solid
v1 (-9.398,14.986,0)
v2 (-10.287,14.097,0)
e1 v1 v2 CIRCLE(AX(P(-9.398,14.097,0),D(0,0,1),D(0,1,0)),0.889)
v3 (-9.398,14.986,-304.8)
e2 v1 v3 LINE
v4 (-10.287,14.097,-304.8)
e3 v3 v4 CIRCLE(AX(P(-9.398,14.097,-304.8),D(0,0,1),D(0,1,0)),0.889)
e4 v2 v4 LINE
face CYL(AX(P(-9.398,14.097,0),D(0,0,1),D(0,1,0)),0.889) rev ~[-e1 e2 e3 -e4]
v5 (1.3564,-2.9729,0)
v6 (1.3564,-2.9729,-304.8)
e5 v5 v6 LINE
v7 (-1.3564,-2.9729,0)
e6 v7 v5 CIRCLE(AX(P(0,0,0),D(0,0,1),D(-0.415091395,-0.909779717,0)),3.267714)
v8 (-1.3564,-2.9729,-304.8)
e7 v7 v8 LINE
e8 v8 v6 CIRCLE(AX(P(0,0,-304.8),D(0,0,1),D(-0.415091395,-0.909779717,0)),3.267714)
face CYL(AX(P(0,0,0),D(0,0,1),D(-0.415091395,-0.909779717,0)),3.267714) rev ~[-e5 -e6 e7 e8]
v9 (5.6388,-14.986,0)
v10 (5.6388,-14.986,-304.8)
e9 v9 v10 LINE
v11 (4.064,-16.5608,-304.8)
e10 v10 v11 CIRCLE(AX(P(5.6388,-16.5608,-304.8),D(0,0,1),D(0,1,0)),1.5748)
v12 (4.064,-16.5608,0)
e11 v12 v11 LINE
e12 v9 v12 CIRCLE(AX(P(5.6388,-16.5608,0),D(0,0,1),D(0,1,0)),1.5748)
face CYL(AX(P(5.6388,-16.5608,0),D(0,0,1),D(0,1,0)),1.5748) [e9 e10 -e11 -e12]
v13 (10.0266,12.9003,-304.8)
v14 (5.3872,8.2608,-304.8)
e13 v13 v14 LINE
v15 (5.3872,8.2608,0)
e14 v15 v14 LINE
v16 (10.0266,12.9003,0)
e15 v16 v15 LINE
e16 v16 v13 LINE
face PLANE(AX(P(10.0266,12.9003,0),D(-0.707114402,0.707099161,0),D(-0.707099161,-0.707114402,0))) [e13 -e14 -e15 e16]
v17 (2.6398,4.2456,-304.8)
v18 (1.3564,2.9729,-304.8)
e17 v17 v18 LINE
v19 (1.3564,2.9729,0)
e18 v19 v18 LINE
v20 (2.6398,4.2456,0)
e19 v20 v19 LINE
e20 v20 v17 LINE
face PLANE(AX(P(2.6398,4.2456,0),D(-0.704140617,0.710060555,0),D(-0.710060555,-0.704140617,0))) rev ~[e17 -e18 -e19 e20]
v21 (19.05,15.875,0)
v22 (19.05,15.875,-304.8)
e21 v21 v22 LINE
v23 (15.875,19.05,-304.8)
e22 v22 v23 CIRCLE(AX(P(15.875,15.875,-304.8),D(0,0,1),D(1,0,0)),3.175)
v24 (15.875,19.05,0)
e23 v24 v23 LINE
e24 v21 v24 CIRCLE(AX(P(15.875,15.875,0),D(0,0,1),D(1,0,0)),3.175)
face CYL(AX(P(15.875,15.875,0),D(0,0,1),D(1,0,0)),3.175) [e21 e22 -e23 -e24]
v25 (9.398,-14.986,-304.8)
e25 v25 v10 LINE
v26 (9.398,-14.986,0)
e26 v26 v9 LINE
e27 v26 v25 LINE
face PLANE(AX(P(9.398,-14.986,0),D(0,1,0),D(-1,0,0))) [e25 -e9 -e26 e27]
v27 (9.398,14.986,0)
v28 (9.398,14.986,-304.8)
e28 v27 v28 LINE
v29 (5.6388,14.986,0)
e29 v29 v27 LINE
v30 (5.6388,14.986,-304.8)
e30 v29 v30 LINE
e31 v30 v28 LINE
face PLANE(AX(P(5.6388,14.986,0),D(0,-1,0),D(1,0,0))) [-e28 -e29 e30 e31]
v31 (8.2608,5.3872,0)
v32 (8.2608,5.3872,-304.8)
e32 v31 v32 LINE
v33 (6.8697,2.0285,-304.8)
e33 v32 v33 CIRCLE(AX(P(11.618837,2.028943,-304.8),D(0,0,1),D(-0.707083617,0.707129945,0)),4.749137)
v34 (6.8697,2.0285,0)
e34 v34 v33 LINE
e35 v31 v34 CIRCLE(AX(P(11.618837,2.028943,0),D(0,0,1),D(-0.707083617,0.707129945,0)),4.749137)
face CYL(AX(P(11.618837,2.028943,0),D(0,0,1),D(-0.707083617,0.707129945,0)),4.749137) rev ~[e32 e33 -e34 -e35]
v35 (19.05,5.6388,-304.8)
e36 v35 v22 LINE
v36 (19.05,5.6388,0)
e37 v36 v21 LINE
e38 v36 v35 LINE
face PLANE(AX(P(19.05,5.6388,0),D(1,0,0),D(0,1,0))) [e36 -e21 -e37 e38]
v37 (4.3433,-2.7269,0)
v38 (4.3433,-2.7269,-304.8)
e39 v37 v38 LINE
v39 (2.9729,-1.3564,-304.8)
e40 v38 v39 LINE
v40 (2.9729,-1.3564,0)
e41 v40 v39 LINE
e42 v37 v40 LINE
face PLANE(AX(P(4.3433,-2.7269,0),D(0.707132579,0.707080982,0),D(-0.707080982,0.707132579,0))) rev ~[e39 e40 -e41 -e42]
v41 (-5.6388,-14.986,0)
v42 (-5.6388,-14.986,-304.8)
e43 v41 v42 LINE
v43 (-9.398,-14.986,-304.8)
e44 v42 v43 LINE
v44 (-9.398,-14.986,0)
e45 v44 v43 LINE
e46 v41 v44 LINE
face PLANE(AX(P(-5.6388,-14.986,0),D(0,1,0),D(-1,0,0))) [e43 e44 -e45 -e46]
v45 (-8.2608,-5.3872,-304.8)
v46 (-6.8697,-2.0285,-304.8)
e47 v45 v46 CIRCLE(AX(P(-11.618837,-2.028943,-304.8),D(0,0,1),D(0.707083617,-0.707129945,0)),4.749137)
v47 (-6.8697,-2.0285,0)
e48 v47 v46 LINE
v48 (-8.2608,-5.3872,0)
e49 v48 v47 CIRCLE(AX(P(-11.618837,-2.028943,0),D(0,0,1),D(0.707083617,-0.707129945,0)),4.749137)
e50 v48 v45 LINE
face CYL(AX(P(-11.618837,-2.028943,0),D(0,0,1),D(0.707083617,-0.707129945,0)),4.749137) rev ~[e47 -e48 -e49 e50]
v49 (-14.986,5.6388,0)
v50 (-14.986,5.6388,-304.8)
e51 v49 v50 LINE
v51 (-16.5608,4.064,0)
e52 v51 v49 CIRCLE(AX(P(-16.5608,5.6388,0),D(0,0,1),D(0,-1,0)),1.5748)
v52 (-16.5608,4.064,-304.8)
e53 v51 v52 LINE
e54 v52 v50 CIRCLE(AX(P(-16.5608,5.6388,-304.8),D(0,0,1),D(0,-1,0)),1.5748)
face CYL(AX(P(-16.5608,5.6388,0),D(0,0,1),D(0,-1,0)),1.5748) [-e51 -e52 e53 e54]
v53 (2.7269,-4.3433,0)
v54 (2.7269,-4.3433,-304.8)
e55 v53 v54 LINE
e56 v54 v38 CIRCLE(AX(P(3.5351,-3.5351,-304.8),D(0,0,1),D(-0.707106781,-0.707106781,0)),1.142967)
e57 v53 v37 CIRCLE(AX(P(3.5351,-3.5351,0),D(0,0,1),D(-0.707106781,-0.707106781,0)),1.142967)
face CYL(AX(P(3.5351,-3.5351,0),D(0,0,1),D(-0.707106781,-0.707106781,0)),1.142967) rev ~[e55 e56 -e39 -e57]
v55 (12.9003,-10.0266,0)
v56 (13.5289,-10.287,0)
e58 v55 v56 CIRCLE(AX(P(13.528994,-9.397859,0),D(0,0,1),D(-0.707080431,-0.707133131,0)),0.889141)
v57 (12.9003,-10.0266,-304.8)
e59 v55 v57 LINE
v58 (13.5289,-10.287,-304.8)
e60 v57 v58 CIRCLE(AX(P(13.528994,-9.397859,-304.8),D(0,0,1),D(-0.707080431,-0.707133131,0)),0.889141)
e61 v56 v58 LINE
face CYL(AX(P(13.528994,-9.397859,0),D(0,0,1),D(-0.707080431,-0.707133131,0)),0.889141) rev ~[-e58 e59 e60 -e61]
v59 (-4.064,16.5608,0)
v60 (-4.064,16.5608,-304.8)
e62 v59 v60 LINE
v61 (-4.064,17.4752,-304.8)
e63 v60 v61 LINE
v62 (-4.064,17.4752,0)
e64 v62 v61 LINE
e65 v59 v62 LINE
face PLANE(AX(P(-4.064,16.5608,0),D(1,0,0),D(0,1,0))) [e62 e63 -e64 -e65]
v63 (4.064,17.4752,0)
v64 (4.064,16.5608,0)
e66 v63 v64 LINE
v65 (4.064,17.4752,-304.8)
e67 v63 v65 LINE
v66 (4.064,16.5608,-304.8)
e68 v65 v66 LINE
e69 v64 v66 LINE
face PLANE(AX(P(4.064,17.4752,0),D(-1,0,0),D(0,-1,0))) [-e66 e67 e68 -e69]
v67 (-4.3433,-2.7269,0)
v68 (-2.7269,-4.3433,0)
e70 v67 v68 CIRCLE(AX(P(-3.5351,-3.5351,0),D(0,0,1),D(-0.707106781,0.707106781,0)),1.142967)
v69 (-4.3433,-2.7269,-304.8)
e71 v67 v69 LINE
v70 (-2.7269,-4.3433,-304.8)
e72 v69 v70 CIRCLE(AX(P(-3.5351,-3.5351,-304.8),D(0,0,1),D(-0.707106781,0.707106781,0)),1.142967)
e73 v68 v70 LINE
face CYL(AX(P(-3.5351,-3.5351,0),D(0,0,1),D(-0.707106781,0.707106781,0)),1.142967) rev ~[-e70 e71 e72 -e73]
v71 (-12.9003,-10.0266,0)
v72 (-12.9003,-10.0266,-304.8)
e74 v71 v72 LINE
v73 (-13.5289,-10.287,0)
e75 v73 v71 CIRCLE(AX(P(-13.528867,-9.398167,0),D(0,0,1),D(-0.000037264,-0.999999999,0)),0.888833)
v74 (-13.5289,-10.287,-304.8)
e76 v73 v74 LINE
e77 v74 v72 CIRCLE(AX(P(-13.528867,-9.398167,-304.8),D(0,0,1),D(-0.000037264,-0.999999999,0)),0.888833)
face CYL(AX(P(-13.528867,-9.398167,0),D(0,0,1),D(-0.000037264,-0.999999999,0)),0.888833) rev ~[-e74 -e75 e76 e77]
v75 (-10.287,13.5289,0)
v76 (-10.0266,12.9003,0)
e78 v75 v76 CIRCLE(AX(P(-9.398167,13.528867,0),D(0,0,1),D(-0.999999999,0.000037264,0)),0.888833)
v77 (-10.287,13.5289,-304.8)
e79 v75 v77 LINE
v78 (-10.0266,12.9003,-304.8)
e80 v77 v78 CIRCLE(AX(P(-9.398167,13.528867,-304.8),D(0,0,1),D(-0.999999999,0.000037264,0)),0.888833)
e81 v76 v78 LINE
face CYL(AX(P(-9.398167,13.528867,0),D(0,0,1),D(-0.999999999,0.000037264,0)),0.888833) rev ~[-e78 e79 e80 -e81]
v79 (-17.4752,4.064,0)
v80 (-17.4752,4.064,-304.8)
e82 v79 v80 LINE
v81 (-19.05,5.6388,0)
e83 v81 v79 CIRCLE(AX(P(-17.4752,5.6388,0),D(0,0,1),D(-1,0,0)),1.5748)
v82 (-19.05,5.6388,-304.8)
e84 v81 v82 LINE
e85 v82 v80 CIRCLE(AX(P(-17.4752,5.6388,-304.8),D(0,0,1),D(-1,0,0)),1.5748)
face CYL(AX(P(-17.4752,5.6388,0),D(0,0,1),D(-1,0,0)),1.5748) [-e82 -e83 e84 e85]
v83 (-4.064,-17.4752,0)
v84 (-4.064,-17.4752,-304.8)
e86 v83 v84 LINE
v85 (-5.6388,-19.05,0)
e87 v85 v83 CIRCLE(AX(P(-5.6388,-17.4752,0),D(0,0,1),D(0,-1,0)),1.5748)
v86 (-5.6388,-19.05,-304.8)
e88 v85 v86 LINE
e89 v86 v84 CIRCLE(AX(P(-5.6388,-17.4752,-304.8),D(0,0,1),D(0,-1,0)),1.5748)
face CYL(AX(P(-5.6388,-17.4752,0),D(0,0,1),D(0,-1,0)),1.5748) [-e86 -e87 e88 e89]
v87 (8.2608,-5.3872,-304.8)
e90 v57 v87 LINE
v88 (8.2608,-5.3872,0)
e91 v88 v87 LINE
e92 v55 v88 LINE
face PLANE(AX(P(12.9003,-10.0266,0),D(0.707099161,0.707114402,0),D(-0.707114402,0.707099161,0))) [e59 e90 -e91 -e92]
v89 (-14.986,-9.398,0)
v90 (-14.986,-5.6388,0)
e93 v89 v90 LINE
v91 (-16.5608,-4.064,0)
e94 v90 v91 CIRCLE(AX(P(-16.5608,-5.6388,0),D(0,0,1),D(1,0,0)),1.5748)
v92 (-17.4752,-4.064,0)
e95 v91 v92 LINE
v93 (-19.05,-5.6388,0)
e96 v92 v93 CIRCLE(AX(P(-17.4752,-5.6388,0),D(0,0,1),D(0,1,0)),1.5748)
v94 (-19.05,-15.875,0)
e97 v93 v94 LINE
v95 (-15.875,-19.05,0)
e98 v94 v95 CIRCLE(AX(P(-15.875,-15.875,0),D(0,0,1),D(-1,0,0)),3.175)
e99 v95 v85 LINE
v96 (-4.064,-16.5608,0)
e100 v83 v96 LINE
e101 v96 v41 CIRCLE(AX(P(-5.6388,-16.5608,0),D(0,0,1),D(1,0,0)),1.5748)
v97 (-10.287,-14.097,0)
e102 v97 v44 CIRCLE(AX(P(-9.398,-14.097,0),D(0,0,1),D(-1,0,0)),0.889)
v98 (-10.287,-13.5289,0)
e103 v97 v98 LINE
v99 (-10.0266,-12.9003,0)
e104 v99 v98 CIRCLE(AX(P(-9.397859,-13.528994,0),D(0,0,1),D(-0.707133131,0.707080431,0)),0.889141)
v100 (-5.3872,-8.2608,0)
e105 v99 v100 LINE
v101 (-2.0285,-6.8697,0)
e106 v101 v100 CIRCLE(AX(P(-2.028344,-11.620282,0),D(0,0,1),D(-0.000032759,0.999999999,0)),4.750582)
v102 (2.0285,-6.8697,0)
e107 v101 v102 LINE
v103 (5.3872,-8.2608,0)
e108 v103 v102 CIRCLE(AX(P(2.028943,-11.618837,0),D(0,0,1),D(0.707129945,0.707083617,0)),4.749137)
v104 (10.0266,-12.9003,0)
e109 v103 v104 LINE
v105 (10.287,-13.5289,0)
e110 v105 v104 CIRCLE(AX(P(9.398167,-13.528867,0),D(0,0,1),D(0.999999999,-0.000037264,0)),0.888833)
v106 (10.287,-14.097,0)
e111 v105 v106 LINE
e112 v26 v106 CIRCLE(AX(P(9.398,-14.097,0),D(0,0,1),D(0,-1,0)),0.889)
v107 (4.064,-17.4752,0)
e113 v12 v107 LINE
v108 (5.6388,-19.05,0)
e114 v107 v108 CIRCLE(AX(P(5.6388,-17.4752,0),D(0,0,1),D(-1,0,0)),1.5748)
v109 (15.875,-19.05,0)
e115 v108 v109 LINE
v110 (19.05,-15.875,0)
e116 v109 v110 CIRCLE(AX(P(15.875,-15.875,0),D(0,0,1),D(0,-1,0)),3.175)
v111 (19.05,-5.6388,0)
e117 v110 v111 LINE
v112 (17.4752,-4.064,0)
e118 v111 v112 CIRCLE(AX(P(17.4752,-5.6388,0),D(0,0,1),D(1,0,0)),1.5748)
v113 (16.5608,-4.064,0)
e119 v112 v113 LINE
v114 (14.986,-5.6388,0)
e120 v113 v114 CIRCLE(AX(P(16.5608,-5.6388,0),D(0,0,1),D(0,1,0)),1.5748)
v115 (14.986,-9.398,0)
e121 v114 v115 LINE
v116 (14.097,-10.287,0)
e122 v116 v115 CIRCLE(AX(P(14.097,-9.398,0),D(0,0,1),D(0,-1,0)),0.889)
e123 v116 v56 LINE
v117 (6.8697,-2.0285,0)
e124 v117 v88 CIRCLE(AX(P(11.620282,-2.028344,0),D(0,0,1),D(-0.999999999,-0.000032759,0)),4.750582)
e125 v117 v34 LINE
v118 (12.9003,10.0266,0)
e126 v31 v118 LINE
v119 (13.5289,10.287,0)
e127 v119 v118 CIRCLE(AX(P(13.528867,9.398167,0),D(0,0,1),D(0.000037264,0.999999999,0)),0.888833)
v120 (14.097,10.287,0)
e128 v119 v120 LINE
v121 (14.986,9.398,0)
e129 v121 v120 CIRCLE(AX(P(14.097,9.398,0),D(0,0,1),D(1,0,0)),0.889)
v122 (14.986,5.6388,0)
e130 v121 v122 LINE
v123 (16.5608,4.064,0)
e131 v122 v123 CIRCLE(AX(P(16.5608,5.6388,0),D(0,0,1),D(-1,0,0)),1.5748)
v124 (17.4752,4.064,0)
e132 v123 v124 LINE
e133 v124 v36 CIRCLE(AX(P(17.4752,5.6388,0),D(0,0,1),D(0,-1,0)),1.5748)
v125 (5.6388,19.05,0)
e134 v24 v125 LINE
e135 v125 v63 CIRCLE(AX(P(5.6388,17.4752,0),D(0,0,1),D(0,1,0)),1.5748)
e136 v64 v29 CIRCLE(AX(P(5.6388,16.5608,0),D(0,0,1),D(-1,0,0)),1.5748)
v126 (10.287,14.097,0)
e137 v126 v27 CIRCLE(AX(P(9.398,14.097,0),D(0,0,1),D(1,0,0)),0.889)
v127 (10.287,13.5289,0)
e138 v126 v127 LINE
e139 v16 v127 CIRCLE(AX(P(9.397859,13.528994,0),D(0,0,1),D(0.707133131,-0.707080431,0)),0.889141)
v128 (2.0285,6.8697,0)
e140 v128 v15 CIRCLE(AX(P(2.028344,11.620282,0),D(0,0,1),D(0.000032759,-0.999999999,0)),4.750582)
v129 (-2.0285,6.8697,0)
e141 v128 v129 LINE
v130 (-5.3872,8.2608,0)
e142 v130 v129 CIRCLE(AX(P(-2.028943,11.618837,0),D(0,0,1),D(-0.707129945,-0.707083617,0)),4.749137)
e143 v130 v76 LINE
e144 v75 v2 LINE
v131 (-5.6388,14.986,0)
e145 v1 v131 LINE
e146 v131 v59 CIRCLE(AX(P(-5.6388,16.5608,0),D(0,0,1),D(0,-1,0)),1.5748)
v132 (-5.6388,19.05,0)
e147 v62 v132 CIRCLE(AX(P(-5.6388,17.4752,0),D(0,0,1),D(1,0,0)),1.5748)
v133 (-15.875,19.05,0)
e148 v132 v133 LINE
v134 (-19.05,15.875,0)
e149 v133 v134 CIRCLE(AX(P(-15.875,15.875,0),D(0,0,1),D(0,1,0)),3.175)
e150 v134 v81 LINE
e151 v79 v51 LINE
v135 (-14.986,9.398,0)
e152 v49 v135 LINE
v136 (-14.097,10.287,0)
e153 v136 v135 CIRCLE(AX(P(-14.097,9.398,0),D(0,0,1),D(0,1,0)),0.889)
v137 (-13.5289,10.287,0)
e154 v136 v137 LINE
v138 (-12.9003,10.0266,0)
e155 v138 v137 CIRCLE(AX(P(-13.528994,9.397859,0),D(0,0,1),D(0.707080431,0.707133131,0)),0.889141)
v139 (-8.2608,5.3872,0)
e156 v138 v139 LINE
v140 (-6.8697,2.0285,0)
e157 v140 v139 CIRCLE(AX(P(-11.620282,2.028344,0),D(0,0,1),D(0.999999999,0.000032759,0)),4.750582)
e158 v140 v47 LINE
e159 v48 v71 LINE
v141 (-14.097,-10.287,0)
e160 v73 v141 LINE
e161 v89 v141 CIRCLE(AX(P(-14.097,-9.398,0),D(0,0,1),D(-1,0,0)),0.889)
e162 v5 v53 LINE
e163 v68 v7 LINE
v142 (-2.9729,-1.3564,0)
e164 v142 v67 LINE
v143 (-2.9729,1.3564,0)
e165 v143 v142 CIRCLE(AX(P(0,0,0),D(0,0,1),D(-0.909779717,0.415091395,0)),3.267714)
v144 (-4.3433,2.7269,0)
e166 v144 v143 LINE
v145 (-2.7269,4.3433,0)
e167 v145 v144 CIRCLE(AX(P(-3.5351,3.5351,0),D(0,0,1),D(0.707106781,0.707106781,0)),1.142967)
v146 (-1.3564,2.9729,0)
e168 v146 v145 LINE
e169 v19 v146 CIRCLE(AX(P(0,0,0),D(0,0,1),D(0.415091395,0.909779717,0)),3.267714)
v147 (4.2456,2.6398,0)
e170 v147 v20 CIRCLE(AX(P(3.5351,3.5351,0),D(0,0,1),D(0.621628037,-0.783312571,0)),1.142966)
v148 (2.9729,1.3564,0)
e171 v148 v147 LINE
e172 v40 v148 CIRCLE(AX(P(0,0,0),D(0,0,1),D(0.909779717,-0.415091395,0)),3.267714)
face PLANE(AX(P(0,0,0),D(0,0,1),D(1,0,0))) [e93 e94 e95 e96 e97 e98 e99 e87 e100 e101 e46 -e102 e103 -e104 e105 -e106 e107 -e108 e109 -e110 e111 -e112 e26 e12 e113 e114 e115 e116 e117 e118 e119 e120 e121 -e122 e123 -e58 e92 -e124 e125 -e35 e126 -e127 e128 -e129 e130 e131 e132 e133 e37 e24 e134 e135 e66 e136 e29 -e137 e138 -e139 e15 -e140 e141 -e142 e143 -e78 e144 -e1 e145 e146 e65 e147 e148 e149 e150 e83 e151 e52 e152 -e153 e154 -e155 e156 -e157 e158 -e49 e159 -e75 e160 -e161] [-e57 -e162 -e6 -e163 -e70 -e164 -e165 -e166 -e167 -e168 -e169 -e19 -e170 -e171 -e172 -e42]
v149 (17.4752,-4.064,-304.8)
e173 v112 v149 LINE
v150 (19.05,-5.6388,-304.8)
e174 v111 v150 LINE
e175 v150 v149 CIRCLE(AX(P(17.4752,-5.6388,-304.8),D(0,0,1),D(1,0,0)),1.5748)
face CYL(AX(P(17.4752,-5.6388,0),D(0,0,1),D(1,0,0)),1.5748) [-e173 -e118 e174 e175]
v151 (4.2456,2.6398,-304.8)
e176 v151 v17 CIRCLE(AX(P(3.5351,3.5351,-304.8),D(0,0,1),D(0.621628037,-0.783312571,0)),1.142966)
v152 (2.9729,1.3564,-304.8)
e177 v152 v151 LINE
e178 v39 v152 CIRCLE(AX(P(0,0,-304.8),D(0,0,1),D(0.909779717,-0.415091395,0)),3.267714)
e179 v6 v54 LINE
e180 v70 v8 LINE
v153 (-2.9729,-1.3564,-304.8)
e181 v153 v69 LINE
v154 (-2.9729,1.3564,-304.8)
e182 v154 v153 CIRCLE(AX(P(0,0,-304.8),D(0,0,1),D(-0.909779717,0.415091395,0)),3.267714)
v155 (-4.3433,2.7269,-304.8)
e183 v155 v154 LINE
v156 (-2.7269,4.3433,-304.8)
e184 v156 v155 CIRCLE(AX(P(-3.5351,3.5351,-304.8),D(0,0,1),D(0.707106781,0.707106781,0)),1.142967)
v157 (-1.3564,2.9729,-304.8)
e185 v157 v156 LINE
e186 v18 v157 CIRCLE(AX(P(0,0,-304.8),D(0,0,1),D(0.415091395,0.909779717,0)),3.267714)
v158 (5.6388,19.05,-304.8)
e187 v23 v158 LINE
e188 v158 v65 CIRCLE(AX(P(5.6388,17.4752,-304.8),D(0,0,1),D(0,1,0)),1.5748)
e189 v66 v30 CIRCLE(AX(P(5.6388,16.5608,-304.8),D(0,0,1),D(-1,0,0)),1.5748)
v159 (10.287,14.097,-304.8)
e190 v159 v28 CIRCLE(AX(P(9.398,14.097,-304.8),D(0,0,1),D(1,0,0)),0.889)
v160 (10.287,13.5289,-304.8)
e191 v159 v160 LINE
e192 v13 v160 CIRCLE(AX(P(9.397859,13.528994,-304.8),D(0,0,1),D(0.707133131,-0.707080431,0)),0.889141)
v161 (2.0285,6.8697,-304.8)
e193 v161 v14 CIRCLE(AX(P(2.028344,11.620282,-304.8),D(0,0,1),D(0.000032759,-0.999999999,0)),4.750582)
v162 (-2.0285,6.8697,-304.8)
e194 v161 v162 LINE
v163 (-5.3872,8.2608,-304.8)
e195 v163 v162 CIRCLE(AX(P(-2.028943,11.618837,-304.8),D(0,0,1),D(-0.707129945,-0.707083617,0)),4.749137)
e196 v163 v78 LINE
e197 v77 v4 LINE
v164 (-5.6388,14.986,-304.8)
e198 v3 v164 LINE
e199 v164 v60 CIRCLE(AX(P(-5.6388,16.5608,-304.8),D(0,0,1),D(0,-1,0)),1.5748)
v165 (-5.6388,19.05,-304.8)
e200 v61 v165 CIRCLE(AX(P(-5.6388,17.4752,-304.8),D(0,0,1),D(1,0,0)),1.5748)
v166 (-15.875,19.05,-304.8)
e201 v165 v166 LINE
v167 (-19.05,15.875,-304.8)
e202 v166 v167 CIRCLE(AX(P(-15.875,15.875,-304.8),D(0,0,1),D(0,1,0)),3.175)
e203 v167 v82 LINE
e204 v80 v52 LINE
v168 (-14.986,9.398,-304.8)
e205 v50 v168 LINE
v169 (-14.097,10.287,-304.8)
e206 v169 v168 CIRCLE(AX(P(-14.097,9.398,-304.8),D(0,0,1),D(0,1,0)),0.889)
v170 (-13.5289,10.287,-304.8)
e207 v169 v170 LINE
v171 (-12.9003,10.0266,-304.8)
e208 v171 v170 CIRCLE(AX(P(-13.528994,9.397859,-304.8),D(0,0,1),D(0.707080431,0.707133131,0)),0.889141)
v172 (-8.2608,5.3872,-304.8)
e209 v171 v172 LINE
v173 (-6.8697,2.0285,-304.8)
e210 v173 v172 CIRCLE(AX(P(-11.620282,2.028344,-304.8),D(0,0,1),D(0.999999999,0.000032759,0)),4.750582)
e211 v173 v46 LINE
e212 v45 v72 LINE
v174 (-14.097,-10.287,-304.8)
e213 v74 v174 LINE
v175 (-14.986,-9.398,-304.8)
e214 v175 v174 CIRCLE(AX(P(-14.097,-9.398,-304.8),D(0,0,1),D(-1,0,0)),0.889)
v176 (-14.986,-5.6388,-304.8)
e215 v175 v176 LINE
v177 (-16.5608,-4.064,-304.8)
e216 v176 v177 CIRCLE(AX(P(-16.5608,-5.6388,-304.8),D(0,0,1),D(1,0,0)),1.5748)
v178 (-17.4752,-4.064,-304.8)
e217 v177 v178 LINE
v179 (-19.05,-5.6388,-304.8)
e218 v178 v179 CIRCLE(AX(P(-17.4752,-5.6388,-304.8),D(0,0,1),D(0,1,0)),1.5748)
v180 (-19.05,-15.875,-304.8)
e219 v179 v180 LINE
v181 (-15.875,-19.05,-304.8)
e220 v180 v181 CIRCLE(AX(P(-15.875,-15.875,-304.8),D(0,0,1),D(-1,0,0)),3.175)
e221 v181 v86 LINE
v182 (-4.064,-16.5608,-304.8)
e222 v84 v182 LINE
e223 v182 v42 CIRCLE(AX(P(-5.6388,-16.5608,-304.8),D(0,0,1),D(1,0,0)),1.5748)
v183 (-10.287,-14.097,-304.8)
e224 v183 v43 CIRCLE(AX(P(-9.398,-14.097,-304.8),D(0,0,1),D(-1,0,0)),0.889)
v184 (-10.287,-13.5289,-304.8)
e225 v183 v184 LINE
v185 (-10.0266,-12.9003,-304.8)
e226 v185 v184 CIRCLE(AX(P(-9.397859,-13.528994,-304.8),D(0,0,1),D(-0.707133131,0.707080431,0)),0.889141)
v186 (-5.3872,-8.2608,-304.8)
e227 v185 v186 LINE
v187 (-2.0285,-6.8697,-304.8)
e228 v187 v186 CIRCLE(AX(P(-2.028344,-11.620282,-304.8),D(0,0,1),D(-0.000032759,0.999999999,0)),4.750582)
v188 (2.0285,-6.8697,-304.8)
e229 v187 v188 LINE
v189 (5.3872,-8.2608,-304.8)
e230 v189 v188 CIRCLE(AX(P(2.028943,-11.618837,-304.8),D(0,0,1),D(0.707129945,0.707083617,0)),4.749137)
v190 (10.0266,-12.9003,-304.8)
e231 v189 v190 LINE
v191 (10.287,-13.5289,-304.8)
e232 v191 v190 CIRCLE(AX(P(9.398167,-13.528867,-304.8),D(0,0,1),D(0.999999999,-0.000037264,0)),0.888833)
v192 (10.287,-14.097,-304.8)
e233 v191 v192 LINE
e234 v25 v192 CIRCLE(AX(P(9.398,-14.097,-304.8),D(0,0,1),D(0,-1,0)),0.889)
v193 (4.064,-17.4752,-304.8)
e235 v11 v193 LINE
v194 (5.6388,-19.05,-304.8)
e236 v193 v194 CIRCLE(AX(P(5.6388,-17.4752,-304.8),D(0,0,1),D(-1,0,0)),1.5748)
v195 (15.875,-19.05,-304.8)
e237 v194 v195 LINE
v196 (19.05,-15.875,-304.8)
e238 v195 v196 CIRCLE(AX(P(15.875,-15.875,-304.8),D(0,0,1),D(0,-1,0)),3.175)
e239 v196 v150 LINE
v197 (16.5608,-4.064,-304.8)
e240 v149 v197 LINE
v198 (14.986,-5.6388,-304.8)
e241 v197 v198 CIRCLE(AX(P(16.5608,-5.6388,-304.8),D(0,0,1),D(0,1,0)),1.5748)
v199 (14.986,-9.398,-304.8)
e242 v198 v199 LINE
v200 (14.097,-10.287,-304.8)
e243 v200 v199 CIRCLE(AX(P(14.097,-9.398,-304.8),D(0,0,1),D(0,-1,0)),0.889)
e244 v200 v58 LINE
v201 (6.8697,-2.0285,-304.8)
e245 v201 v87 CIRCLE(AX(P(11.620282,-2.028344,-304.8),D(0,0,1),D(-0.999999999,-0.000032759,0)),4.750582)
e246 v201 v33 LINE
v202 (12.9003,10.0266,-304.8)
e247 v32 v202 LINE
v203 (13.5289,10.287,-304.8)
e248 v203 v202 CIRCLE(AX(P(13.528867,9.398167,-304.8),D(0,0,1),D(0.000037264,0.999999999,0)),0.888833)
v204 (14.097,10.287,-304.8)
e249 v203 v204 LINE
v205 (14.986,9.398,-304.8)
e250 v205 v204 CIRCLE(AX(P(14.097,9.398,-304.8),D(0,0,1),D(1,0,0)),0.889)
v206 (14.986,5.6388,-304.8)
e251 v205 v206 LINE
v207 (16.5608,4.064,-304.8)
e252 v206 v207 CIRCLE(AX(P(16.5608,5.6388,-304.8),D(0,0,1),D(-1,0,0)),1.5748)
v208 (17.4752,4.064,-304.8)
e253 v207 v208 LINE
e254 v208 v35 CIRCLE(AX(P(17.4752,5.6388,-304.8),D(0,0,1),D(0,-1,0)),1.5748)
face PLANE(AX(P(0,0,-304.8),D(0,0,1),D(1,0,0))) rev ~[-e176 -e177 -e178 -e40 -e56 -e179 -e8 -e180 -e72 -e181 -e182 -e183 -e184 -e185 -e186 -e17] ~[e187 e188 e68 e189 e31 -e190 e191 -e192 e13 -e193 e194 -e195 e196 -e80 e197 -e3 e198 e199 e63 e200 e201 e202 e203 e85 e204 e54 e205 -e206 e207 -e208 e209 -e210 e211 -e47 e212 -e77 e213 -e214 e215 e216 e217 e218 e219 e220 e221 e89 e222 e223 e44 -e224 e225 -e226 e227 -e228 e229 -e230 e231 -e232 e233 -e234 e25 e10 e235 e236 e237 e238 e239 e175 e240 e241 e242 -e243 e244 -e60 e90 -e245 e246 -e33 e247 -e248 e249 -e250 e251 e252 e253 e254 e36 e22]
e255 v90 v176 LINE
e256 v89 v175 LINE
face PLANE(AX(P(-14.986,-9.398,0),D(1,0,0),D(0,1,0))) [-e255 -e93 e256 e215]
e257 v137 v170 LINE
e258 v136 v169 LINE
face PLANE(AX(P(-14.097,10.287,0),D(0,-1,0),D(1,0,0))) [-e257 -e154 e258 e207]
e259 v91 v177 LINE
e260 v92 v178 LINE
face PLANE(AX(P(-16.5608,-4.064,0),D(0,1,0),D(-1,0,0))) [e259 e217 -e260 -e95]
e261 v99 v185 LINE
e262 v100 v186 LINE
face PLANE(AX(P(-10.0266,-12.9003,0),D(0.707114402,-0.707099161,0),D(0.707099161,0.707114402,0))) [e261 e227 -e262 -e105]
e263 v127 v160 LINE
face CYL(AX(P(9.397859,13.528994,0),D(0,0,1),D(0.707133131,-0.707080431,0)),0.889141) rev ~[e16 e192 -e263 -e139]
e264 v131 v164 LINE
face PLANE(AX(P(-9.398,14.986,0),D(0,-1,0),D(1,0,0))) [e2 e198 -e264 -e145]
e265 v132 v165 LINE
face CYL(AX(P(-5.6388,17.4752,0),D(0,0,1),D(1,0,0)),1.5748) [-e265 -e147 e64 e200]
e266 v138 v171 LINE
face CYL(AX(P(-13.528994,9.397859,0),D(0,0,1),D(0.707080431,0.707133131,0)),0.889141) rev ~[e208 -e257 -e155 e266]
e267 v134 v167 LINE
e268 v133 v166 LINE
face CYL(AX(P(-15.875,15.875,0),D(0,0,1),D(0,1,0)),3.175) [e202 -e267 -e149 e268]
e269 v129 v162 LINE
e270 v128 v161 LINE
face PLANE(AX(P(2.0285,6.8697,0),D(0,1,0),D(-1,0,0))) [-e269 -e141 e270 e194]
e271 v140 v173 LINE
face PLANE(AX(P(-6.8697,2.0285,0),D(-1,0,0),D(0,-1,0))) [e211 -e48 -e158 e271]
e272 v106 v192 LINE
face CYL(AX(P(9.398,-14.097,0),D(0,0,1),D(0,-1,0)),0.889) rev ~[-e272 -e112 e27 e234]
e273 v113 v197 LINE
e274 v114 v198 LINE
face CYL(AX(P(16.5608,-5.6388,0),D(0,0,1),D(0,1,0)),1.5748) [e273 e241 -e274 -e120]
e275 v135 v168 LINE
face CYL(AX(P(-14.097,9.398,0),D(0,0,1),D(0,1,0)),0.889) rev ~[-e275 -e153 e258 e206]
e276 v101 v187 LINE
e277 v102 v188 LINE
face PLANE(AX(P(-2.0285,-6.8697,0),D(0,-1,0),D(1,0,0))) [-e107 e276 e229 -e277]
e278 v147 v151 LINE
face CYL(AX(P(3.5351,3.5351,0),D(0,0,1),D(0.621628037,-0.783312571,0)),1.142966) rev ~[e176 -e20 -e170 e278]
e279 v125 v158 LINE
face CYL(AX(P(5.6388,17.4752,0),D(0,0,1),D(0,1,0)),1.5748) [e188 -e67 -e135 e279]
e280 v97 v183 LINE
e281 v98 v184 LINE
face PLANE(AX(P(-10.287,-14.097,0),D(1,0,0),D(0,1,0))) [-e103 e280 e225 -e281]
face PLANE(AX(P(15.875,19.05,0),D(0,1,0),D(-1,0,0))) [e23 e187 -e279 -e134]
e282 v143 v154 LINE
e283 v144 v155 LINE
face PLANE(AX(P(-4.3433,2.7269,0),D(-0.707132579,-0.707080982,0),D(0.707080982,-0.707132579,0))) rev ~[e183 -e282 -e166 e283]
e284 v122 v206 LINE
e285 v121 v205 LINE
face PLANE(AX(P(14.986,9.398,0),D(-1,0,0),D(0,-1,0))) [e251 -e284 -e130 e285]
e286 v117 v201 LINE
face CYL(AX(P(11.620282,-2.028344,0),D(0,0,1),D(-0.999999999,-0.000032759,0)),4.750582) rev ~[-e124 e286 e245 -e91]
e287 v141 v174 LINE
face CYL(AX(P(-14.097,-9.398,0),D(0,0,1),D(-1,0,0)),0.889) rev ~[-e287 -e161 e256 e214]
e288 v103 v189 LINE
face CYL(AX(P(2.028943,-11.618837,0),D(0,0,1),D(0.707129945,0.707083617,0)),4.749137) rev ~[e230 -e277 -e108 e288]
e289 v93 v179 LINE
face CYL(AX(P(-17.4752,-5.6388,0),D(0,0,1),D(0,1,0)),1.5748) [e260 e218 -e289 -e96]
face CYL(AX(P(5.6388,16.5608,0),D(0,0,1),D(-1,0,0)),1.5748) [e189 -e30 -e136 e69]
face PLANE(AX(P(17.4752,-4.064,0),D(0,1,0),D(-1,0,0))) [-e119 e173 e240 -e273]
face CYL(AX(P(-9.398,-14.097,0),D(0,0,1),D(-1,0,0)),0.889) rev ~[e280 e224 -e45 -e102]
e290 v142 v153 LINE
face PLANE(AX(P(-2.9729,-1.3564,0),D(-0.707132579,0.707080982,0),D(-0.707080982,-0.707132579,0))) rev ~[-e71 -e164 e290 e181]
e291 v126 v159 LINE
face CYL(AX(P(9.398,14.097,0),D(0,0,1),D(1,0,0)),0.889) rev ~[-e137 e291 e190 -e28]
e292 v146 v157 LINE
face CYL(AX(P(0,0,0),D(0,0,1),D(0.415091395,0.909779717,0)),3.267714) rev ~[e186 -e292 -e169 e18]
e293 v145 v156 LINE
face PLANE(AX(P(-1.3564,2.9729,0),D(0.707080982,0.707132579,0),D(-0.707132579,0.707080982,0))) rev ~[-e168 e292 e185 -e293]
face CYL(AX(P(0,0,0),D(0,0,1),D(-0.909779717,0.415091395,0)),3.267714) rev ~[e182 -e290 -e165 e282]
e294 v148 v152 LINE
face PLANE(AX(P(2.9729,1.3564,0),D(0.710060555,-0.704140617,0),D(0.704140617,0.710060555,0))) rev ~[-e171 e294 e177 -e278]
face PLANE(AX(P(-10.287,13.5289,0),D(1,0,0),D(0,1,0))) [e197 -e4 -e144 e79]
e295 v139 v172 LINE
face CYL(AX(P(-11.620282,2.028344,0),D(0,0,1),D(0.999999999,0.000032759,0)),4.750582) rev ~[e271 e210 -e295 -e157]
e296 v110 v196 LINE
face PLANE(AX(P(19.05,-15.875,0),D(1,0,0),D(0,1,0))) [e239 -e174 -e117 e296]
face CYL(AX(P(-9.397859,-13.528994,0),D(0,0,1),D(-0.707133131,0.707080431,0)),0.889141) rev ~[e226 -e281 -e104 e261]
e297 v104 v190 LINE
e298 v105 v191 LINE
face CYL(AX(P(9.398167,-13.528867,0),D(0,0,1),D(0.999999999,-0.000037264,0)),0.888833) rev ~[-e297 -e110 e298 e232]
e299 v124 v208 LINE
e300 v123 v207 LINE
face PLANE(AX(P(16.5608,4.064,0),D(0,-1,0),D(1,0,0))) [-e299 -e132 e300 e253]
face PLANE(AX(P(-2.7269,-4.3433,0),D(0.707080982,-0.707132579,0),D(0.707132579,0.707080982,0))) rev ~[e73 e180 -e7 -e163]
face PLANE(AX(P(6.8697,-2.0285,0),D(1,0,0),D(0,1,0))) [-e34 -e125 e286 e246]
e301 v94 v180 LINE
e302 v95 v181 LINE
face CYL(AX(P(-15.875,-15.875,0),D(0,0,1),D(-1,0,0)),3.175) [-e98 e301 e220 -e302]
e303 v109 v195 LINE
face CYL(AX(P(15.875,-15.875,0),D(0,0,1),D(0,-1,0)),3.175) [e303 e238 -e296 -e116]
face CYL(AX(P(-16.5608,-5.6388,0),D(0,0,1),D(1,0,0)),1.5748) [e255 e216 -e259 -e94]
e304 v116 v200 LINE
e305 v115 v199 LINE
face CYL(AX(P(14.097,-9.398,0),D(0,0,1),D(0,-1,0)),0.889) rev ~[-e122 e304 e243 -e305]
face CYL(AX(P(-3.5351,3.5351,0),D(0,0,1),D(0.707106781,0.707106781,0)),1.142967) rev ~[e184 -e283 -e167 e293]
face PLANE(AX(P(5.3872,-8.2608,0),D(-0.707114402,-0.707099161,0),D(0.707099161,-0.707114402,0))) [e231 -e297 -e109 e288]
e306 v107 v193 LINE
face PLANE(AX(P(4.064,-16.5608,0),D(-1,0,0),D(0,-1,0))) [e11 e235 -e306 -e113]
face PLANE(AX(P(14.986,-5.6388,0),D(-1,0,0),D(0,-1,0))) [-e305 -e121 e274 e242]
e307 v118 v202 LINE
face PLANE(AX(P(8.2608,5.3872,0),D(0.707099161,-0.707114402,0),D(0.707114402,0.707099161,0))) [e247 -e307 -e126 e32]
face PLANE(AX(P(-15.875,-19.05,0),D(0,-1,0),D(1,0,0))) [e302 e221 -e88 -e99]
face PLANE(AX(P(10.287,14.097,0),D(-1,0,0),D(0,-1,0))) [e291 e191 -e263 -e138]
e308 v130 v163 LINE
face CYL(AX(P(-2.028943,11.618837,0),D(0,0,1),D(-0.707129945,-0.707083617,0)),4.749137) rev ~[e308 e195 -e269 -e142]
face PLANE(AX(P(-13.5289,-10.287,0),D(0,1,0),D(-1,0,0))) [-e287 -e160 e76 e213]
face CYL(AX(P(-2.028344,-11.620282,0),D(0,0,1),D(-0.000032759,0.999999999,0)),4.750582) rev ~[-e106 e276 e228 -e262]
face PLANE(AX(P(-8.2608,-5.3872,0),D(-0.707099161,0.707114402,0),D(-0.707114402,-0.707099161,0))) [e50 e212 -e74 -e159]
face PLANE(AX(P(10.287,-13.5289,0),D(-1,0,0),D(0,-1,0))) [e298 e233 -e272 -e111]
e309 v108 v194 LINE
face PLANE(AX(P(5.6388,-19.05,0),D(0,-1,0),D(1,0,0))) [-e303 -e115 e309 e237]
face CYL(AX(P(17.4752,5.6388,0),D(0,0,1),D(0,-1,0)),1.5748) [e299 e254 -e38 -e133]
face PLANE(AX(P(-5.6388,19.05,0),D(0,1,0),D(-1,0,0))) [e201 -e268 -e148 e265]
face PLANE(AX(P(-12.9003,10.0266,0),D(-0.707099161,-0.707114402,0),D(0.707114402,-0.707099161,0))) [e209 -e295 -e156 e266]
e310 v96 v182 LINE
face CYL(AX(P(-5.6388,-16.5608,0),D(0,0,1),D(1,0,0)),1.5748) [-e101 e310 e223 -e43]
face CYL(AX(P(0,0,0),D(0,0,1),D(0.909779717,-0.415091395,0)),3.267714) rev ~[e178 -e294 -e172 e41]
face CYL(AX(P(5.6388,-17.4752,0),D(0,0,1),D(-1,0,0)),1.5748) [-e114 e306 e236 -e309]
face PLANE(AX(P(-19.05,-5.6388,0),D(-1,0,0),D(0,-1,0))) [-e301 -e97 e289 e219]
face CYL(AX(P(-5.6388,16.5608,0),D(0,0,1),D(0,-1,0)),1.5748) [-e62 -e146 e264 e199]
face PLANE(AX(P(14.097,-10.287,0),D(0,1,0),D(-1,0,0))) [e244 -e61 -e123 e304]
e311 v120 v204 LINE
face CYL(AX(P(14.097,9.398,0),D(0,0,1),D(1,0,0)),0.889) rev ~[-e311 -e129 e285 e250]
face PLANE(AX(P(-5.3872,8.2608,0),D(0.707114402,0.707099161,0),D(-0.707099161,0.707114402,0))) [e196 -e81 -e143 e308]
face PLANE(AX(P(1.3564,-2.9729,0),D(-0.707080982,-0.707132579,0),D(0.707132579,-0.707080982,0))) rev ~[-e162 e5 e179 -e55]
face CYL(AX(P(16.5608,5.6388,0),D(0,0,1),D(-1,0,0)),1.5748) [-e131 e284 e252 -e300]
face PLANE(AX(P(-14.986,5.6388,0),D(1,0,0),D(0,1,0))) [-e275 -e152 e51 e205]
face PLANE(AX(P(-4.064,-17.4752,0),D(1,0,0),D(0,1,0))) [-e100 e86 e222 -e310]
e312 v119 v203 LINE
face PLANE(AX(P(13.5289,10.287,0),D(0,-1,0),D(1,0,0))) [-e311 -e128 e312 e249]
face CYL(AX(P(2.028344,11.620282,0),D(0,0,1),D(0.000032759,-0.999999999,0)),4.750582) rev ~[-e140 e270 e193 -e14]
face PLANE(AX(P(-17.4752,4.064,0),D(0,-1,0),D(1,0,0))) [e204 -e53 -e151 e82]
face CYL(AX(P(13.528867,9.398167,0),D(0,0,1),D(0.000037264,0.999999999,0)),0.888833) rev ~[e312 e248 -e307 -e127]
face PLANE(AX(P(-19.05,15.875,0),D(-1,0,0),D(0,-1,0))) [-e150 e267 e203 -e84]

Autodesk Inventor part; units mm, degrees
ref_plane "YZ Plane" through (0, 0, 0) normal (1, 0, 0) x (0, 1, 0)
ref_plane "XZ Plane" through (0, 0, 0) normal (0, 1, 0) x (-1, 0, 0)
ref_plane "XY Plane" through (0, 0, 0) normal (0, 0, 1) x (1, 0, 0)
sketch "Sketch1" plane through (0, 0, 0) normal (0, 0, 1) x (1, 0, 0)
  arc A0 (4.2456, 2.6398) -> (2.6398, 4.2456) centre (3.5351, 3.5351) ccw
  line L0 (2.9729, 1.3564) -> (4.2456, 2.6398)
  arc A1 (2.9729, -1.3564) -> (2.9729, 1.3564) centre (0, 0) ccw
  line L1 (4.3433, -2.7269) -> (2.9729, -1.3564)
  arc A2 (2.7269, -4.3433) -> (4.3433, -2.7269) centre (3.5351, -3.5351) ccw
  line L2 (1.3564, -2.9729) -> (2.7269, -4.3433)
  arc A3 (-1.3564, -2.9729) -> (1.3564, -2.9729) centre (0, 0) ccw
  line L3 (-2.7269, -4.3433) -> (-1.3564, -2.9729)
  arc A4 (-4.3433, -2.7269) -> (-2.7269, -4.3433) centre (-3.5351, -3.5351) ccw
  line L4 (-2.9729, -1.3564) -> (-4.3433, -2.7269)
  arc A5 (-2.9729, 1.3564) -> (-2.9729, -1.3564) centre (0, 0) ccw
  line L5 (-4.3433, 2.7269) -> (-2.9729, 1.3564)
  arc A6 (-2.7269, 4.3433) -> (-4.3433, 2.7269) centre (-3.5351, 3.5351) ccw
  line L6 (-1.3564, 2.9729) -> (-2.7269, 4.3433)
  arc A7 (1.3564, 2.9729) -> (-1.3564, 2.9729) centre (0, 0) ccw
  line L7 (2.6398, 4.2456) -> (1.3564, 2.9729)
  arc A8 (16.5608, -4.064) -> (14.986, -5.6388) centre (16.5608, -5.6388) ccw
  line L8 (14.986, -5.6388) -> (14.986, -9.398)
  arc A9 (14.097, -10.287) -> (14.986, -9.398) centre (14.097, -9.398) ccw
  line L9 (14.097, -10.287) -> (13.5289, -10.287)
  arc A10 (12.9003, -10.0266) -> (13.5289, -10.287) centre (13.5289, -9.398) ccw
  line L10 (12.9003, -10.0266) -> (8.2608, -5.3872)
  arc A11 (6.8697, -2.0285) -> (8.2608, -5.3872) centre (11.6195, -2.0285) ccw
  line L11 (6.8697, -2.0285) -> (6.8697, 2.0285)
  arc A12 (8.2608, 5.3872) -> (6.8697, 2.0285) centre (11.6195, 2.0285) ccw
  line L12 (8.2608, 5.3872) -> (12.9003, 10.0266)
  arc A13 (13.5289, 10.287) -> (12.9003, 10.0266) centre (13.5289, 9.398) ccw
  line L13 (13.5289, 10.287) -> (14.097, 10.287)
  arc A14 (14.986, 9.398) -> (14.097, 10.287) centre (14.097, 9.398) ccw
  line L14 (14.986, 9.398) -> (14.986, 5.6388)
  arc A15 (14.986, 5.6388) -> (16.5608, 4.064) centre (16.5608, 5.6388) ccw
  line L15 (16.5608, 4.064) -> (17.4752, 4.064)
  arc A16 (17.4752, 4.064) -> (19.05, 5.6388) centre (17.4752, 5.6388) ccw
  line L16 (19.05, 5.6388) -> (19.05, 15.875)
  arc A17 (19.05, 15.875) -> (15.875, 19.05) centre (15.875, 15.875) ccw
  line L17 (15.875, 19.05) -> (5.6388, 19.05)
  arc A18 (5.6388, 19.05) -> (4.064, 17.4752) centre (5.6388, 17.4752) ccw
  line L18 (4.064, 17.4752) -> (4.064, 16.5608)
  arc A19 (4.064, 16.5608) -> (5.6388, 14.986) centre (5.6388, 16.5608) ccw
  line L19 (5.6388, 14.986) -> (9.398, 14.986)
  arc A20 (10.287, 14.097) -> (9.398, 14.986) centre (9.398, 14.097) ccw
  line L20 (10.287, 14.097) -> (10.287, 13.5289)
  arc A21 (10.0266, 12.9003) -> (10.287, 13.5289) centre (9.398, 13.5289) ccw
  line L21 (10.0266, 12.9003) -> (5.3872, 8.2608)
  arc A22 (2.0285, 6.8697) -> (5.3872, 8.2608) centre (2.0285, 11.6195) ccw
  line L22 (2.0285, 6.8697) -> (-2.0285, 6.8697)
  arc A23 (-5.3872, 8.2608) -> (-2.0285, 6.8697) centre (-2.0285, 11.6195) ccw
  line L23 (-5.3872, 8.2608) -> (-10.0266, 12.9003)
  arc A24 (-10.287, 13.5289) -> (-10.0266, 12.9003) centre (-9.398, 13.5289) ccw
  line L24 (-10.287, 13.5289) -> (-10.287, 14.097)
  arc A25 (-9.398, 14.986) -> (-10.287, 14.097) centre (-9.398, 14.097) ccw
  line L25 (-9.398, 14.986) -> (-5.6388, 14.986)
  arc A26 (-5.6388, 14.986) -> (-4.064, 16.5608) centre (-5.6388, 16.5608) ccw
  line L26 (-4.064, 16.5608) -> (-4.064, 17.4752)
  arc A27 (-4.064, 17.4752) -> (-5.6388, 19.05) centre (-5.6388, 17.4752) ccw
  line L27 (-5.6388, 19.05) -> (-15.875, 19.05)
  arc A28 (-15.875, 19.05) -> (-19.05, 15.875) centre (-15.875, 15.875) ccw
  line L28 (-19.05, 15.875) -> (-19.05, 5.6388)
  arc A29 (-19.05, 5.6388) -> (-17.4752, 4.064) centre (-17.4752, 5.6388) ccw
  line L29 (-17.4752, 4.064) -> (-16.5608, 4.064)
  arc A30 (-16.5608, 4.064) -> (-14.986, 5.6388) centre (-16.5608, 5.6388) ccw
  line L30 (-14.986, 5.6388) -> (-14.986, 9.398)
  arc A31 (-14.097, 10.287) -> (-14.986, 9.398) centre (-14.097, 9.398) ccw
  line L31 (-14.097, 10.287) -> (-13.5289, 10.287)
  arc A32 (-12.9003, 10.0266) -> (-13.5289, 10.287) centre (-13.5289, 9.398) ccw
  line L32 (-12.9003, 10.0266) -> (-8.2608, 5.3872)
  arc A33 (-6.8697, 2.0285) -> (-8.2608, 5.3872) centre (-11.6195, 2.0285) ccw
  line L33 (-6.8697, 2.0285) -> (-6.8697, -2.0285)
  arc A34 (-8.2608, -5.3872) -> (-6.8697, -2.0285) centre (-11.6195, -2.0285) ccw
  line L34 (-8.2608, -5.3872) -> (-12.9003, -10.0266)
  arc A35 (-13.5289, -10.287) -> (-12.9003, -10.0266) centre (-13.5289, -9.398) ccw
  line L35 (-13.5289, -10.287) -> (-14.097, -10.287)
  arc A36 (-14.986, -9.398) -> (-14.097, -10.287) centre (-14.097, -9.398) ccw
  line L36 (-14.986, -9.398) -> (-14.986, -5.6388)
  arc A37 (-14.986, -5.6388) -> (-16.5608, -4.064) centre (-16.5608, -5.6388) ccw
  line L37 (-16.5608, -4.064) -> (-17.4752, -4.064)
  arc A38 (-17.4752, -4.064) -> (-19.05, -5.6388) centre (-17.4752, -5.6388) ccw
  line L38 (-19.05, -5.6388) -> (-19.05, -15.875)
  arc A39 (-19.05, -15.875) -> (-15.875, -19.05) centre (-15.875, -15.875) ccw
  line L39 (-15.875, -19.05) -> (-5.6388, -19.05)
  arc A40 (-5.6388, -19.05) -> (-4.064, -17.4752) centre (-5.6388, -17.4752) ccw
  line L40 (-4.064, -17.4752) -> (-4.064, -16.5608)
  arc A41 (-4.064, -16.5608) -> (-5.6388, -14.986) centre (-5.6388, -16.5608) ccw
  line L41 (-5.6388, -14.986) -> (-9.398, -14.986)
  arc A42 (-10.287, -14.097) -> (-9.398, -14.986) centre (-9.398, -14.097) ccw
  line L42 (-10.287, -14.097) -> (-10.287, -13.5289)
  arc A43 (-10.0266, -12.9003) -> (-10.287, -13.5289) centre (-9.398, -13.5289) ccw
  line L43 (-10.0266, -12.9003) -> (-5.3872, -8.2608)
  arc A44 (-2.0285, -6.8697) -> (-5.3872, -8.2608) centre (-2.0285, -11.6195) ccw
  line L44 (-2.0285, -6.8697) -> (2.0285, -6.8697)
  arc A45 (5.3872, -8.2608) -> (2.0285, -6.8697) centre (2.0285, -11.6195) ccw
  line L45 (5.3872, -8.2608) -> (10.0266, -12.9003)
  arc A46 (10.287, -13.5289) -> (10.0266, -12.9003) centre (9.398, -13.5289) ccw
  line L46 (10.287, -13.5289) -> (10.287, -14.097)
  arc A47 (9.398, -14.986) -> (10.287, -14.097) centre (9.398, -14.097) ccw
  line L47 (9.398, -14.986) -> (5.6388, -14.986)
  arc A48 (5.6388, -14.986) -> (4.064, -16.5608) centre (5.6388, -16.5608) ccw
  line L48 (4.064, -16.5608) -> (4.064, -17.4752)
  arc A49 (4.064, -17.4752) -> (5.6388, -19.05) centre (5.6388, -17.4752) ccw
  line L49 (5.6388, -19.05) -> (15.875, -19.05)
  arc A50 (15.875, -19.05) -> (19.05, -15.875) centre (15.875, -15.875) ccw
  line L50 (19.05, -15.875) -> (19.05, -5.6388)
  arc A51 (19.05, -5.6388) -> (17.4752, -4.064) centre (17.4752, -5.6388) ccw
  line L51 (17.4752, -4.064) -> (16.5608, -4.064)
extrude "Extrusion1" add sketch "Sketch1" against normal blind 304.8
properties part number "1515-S"
